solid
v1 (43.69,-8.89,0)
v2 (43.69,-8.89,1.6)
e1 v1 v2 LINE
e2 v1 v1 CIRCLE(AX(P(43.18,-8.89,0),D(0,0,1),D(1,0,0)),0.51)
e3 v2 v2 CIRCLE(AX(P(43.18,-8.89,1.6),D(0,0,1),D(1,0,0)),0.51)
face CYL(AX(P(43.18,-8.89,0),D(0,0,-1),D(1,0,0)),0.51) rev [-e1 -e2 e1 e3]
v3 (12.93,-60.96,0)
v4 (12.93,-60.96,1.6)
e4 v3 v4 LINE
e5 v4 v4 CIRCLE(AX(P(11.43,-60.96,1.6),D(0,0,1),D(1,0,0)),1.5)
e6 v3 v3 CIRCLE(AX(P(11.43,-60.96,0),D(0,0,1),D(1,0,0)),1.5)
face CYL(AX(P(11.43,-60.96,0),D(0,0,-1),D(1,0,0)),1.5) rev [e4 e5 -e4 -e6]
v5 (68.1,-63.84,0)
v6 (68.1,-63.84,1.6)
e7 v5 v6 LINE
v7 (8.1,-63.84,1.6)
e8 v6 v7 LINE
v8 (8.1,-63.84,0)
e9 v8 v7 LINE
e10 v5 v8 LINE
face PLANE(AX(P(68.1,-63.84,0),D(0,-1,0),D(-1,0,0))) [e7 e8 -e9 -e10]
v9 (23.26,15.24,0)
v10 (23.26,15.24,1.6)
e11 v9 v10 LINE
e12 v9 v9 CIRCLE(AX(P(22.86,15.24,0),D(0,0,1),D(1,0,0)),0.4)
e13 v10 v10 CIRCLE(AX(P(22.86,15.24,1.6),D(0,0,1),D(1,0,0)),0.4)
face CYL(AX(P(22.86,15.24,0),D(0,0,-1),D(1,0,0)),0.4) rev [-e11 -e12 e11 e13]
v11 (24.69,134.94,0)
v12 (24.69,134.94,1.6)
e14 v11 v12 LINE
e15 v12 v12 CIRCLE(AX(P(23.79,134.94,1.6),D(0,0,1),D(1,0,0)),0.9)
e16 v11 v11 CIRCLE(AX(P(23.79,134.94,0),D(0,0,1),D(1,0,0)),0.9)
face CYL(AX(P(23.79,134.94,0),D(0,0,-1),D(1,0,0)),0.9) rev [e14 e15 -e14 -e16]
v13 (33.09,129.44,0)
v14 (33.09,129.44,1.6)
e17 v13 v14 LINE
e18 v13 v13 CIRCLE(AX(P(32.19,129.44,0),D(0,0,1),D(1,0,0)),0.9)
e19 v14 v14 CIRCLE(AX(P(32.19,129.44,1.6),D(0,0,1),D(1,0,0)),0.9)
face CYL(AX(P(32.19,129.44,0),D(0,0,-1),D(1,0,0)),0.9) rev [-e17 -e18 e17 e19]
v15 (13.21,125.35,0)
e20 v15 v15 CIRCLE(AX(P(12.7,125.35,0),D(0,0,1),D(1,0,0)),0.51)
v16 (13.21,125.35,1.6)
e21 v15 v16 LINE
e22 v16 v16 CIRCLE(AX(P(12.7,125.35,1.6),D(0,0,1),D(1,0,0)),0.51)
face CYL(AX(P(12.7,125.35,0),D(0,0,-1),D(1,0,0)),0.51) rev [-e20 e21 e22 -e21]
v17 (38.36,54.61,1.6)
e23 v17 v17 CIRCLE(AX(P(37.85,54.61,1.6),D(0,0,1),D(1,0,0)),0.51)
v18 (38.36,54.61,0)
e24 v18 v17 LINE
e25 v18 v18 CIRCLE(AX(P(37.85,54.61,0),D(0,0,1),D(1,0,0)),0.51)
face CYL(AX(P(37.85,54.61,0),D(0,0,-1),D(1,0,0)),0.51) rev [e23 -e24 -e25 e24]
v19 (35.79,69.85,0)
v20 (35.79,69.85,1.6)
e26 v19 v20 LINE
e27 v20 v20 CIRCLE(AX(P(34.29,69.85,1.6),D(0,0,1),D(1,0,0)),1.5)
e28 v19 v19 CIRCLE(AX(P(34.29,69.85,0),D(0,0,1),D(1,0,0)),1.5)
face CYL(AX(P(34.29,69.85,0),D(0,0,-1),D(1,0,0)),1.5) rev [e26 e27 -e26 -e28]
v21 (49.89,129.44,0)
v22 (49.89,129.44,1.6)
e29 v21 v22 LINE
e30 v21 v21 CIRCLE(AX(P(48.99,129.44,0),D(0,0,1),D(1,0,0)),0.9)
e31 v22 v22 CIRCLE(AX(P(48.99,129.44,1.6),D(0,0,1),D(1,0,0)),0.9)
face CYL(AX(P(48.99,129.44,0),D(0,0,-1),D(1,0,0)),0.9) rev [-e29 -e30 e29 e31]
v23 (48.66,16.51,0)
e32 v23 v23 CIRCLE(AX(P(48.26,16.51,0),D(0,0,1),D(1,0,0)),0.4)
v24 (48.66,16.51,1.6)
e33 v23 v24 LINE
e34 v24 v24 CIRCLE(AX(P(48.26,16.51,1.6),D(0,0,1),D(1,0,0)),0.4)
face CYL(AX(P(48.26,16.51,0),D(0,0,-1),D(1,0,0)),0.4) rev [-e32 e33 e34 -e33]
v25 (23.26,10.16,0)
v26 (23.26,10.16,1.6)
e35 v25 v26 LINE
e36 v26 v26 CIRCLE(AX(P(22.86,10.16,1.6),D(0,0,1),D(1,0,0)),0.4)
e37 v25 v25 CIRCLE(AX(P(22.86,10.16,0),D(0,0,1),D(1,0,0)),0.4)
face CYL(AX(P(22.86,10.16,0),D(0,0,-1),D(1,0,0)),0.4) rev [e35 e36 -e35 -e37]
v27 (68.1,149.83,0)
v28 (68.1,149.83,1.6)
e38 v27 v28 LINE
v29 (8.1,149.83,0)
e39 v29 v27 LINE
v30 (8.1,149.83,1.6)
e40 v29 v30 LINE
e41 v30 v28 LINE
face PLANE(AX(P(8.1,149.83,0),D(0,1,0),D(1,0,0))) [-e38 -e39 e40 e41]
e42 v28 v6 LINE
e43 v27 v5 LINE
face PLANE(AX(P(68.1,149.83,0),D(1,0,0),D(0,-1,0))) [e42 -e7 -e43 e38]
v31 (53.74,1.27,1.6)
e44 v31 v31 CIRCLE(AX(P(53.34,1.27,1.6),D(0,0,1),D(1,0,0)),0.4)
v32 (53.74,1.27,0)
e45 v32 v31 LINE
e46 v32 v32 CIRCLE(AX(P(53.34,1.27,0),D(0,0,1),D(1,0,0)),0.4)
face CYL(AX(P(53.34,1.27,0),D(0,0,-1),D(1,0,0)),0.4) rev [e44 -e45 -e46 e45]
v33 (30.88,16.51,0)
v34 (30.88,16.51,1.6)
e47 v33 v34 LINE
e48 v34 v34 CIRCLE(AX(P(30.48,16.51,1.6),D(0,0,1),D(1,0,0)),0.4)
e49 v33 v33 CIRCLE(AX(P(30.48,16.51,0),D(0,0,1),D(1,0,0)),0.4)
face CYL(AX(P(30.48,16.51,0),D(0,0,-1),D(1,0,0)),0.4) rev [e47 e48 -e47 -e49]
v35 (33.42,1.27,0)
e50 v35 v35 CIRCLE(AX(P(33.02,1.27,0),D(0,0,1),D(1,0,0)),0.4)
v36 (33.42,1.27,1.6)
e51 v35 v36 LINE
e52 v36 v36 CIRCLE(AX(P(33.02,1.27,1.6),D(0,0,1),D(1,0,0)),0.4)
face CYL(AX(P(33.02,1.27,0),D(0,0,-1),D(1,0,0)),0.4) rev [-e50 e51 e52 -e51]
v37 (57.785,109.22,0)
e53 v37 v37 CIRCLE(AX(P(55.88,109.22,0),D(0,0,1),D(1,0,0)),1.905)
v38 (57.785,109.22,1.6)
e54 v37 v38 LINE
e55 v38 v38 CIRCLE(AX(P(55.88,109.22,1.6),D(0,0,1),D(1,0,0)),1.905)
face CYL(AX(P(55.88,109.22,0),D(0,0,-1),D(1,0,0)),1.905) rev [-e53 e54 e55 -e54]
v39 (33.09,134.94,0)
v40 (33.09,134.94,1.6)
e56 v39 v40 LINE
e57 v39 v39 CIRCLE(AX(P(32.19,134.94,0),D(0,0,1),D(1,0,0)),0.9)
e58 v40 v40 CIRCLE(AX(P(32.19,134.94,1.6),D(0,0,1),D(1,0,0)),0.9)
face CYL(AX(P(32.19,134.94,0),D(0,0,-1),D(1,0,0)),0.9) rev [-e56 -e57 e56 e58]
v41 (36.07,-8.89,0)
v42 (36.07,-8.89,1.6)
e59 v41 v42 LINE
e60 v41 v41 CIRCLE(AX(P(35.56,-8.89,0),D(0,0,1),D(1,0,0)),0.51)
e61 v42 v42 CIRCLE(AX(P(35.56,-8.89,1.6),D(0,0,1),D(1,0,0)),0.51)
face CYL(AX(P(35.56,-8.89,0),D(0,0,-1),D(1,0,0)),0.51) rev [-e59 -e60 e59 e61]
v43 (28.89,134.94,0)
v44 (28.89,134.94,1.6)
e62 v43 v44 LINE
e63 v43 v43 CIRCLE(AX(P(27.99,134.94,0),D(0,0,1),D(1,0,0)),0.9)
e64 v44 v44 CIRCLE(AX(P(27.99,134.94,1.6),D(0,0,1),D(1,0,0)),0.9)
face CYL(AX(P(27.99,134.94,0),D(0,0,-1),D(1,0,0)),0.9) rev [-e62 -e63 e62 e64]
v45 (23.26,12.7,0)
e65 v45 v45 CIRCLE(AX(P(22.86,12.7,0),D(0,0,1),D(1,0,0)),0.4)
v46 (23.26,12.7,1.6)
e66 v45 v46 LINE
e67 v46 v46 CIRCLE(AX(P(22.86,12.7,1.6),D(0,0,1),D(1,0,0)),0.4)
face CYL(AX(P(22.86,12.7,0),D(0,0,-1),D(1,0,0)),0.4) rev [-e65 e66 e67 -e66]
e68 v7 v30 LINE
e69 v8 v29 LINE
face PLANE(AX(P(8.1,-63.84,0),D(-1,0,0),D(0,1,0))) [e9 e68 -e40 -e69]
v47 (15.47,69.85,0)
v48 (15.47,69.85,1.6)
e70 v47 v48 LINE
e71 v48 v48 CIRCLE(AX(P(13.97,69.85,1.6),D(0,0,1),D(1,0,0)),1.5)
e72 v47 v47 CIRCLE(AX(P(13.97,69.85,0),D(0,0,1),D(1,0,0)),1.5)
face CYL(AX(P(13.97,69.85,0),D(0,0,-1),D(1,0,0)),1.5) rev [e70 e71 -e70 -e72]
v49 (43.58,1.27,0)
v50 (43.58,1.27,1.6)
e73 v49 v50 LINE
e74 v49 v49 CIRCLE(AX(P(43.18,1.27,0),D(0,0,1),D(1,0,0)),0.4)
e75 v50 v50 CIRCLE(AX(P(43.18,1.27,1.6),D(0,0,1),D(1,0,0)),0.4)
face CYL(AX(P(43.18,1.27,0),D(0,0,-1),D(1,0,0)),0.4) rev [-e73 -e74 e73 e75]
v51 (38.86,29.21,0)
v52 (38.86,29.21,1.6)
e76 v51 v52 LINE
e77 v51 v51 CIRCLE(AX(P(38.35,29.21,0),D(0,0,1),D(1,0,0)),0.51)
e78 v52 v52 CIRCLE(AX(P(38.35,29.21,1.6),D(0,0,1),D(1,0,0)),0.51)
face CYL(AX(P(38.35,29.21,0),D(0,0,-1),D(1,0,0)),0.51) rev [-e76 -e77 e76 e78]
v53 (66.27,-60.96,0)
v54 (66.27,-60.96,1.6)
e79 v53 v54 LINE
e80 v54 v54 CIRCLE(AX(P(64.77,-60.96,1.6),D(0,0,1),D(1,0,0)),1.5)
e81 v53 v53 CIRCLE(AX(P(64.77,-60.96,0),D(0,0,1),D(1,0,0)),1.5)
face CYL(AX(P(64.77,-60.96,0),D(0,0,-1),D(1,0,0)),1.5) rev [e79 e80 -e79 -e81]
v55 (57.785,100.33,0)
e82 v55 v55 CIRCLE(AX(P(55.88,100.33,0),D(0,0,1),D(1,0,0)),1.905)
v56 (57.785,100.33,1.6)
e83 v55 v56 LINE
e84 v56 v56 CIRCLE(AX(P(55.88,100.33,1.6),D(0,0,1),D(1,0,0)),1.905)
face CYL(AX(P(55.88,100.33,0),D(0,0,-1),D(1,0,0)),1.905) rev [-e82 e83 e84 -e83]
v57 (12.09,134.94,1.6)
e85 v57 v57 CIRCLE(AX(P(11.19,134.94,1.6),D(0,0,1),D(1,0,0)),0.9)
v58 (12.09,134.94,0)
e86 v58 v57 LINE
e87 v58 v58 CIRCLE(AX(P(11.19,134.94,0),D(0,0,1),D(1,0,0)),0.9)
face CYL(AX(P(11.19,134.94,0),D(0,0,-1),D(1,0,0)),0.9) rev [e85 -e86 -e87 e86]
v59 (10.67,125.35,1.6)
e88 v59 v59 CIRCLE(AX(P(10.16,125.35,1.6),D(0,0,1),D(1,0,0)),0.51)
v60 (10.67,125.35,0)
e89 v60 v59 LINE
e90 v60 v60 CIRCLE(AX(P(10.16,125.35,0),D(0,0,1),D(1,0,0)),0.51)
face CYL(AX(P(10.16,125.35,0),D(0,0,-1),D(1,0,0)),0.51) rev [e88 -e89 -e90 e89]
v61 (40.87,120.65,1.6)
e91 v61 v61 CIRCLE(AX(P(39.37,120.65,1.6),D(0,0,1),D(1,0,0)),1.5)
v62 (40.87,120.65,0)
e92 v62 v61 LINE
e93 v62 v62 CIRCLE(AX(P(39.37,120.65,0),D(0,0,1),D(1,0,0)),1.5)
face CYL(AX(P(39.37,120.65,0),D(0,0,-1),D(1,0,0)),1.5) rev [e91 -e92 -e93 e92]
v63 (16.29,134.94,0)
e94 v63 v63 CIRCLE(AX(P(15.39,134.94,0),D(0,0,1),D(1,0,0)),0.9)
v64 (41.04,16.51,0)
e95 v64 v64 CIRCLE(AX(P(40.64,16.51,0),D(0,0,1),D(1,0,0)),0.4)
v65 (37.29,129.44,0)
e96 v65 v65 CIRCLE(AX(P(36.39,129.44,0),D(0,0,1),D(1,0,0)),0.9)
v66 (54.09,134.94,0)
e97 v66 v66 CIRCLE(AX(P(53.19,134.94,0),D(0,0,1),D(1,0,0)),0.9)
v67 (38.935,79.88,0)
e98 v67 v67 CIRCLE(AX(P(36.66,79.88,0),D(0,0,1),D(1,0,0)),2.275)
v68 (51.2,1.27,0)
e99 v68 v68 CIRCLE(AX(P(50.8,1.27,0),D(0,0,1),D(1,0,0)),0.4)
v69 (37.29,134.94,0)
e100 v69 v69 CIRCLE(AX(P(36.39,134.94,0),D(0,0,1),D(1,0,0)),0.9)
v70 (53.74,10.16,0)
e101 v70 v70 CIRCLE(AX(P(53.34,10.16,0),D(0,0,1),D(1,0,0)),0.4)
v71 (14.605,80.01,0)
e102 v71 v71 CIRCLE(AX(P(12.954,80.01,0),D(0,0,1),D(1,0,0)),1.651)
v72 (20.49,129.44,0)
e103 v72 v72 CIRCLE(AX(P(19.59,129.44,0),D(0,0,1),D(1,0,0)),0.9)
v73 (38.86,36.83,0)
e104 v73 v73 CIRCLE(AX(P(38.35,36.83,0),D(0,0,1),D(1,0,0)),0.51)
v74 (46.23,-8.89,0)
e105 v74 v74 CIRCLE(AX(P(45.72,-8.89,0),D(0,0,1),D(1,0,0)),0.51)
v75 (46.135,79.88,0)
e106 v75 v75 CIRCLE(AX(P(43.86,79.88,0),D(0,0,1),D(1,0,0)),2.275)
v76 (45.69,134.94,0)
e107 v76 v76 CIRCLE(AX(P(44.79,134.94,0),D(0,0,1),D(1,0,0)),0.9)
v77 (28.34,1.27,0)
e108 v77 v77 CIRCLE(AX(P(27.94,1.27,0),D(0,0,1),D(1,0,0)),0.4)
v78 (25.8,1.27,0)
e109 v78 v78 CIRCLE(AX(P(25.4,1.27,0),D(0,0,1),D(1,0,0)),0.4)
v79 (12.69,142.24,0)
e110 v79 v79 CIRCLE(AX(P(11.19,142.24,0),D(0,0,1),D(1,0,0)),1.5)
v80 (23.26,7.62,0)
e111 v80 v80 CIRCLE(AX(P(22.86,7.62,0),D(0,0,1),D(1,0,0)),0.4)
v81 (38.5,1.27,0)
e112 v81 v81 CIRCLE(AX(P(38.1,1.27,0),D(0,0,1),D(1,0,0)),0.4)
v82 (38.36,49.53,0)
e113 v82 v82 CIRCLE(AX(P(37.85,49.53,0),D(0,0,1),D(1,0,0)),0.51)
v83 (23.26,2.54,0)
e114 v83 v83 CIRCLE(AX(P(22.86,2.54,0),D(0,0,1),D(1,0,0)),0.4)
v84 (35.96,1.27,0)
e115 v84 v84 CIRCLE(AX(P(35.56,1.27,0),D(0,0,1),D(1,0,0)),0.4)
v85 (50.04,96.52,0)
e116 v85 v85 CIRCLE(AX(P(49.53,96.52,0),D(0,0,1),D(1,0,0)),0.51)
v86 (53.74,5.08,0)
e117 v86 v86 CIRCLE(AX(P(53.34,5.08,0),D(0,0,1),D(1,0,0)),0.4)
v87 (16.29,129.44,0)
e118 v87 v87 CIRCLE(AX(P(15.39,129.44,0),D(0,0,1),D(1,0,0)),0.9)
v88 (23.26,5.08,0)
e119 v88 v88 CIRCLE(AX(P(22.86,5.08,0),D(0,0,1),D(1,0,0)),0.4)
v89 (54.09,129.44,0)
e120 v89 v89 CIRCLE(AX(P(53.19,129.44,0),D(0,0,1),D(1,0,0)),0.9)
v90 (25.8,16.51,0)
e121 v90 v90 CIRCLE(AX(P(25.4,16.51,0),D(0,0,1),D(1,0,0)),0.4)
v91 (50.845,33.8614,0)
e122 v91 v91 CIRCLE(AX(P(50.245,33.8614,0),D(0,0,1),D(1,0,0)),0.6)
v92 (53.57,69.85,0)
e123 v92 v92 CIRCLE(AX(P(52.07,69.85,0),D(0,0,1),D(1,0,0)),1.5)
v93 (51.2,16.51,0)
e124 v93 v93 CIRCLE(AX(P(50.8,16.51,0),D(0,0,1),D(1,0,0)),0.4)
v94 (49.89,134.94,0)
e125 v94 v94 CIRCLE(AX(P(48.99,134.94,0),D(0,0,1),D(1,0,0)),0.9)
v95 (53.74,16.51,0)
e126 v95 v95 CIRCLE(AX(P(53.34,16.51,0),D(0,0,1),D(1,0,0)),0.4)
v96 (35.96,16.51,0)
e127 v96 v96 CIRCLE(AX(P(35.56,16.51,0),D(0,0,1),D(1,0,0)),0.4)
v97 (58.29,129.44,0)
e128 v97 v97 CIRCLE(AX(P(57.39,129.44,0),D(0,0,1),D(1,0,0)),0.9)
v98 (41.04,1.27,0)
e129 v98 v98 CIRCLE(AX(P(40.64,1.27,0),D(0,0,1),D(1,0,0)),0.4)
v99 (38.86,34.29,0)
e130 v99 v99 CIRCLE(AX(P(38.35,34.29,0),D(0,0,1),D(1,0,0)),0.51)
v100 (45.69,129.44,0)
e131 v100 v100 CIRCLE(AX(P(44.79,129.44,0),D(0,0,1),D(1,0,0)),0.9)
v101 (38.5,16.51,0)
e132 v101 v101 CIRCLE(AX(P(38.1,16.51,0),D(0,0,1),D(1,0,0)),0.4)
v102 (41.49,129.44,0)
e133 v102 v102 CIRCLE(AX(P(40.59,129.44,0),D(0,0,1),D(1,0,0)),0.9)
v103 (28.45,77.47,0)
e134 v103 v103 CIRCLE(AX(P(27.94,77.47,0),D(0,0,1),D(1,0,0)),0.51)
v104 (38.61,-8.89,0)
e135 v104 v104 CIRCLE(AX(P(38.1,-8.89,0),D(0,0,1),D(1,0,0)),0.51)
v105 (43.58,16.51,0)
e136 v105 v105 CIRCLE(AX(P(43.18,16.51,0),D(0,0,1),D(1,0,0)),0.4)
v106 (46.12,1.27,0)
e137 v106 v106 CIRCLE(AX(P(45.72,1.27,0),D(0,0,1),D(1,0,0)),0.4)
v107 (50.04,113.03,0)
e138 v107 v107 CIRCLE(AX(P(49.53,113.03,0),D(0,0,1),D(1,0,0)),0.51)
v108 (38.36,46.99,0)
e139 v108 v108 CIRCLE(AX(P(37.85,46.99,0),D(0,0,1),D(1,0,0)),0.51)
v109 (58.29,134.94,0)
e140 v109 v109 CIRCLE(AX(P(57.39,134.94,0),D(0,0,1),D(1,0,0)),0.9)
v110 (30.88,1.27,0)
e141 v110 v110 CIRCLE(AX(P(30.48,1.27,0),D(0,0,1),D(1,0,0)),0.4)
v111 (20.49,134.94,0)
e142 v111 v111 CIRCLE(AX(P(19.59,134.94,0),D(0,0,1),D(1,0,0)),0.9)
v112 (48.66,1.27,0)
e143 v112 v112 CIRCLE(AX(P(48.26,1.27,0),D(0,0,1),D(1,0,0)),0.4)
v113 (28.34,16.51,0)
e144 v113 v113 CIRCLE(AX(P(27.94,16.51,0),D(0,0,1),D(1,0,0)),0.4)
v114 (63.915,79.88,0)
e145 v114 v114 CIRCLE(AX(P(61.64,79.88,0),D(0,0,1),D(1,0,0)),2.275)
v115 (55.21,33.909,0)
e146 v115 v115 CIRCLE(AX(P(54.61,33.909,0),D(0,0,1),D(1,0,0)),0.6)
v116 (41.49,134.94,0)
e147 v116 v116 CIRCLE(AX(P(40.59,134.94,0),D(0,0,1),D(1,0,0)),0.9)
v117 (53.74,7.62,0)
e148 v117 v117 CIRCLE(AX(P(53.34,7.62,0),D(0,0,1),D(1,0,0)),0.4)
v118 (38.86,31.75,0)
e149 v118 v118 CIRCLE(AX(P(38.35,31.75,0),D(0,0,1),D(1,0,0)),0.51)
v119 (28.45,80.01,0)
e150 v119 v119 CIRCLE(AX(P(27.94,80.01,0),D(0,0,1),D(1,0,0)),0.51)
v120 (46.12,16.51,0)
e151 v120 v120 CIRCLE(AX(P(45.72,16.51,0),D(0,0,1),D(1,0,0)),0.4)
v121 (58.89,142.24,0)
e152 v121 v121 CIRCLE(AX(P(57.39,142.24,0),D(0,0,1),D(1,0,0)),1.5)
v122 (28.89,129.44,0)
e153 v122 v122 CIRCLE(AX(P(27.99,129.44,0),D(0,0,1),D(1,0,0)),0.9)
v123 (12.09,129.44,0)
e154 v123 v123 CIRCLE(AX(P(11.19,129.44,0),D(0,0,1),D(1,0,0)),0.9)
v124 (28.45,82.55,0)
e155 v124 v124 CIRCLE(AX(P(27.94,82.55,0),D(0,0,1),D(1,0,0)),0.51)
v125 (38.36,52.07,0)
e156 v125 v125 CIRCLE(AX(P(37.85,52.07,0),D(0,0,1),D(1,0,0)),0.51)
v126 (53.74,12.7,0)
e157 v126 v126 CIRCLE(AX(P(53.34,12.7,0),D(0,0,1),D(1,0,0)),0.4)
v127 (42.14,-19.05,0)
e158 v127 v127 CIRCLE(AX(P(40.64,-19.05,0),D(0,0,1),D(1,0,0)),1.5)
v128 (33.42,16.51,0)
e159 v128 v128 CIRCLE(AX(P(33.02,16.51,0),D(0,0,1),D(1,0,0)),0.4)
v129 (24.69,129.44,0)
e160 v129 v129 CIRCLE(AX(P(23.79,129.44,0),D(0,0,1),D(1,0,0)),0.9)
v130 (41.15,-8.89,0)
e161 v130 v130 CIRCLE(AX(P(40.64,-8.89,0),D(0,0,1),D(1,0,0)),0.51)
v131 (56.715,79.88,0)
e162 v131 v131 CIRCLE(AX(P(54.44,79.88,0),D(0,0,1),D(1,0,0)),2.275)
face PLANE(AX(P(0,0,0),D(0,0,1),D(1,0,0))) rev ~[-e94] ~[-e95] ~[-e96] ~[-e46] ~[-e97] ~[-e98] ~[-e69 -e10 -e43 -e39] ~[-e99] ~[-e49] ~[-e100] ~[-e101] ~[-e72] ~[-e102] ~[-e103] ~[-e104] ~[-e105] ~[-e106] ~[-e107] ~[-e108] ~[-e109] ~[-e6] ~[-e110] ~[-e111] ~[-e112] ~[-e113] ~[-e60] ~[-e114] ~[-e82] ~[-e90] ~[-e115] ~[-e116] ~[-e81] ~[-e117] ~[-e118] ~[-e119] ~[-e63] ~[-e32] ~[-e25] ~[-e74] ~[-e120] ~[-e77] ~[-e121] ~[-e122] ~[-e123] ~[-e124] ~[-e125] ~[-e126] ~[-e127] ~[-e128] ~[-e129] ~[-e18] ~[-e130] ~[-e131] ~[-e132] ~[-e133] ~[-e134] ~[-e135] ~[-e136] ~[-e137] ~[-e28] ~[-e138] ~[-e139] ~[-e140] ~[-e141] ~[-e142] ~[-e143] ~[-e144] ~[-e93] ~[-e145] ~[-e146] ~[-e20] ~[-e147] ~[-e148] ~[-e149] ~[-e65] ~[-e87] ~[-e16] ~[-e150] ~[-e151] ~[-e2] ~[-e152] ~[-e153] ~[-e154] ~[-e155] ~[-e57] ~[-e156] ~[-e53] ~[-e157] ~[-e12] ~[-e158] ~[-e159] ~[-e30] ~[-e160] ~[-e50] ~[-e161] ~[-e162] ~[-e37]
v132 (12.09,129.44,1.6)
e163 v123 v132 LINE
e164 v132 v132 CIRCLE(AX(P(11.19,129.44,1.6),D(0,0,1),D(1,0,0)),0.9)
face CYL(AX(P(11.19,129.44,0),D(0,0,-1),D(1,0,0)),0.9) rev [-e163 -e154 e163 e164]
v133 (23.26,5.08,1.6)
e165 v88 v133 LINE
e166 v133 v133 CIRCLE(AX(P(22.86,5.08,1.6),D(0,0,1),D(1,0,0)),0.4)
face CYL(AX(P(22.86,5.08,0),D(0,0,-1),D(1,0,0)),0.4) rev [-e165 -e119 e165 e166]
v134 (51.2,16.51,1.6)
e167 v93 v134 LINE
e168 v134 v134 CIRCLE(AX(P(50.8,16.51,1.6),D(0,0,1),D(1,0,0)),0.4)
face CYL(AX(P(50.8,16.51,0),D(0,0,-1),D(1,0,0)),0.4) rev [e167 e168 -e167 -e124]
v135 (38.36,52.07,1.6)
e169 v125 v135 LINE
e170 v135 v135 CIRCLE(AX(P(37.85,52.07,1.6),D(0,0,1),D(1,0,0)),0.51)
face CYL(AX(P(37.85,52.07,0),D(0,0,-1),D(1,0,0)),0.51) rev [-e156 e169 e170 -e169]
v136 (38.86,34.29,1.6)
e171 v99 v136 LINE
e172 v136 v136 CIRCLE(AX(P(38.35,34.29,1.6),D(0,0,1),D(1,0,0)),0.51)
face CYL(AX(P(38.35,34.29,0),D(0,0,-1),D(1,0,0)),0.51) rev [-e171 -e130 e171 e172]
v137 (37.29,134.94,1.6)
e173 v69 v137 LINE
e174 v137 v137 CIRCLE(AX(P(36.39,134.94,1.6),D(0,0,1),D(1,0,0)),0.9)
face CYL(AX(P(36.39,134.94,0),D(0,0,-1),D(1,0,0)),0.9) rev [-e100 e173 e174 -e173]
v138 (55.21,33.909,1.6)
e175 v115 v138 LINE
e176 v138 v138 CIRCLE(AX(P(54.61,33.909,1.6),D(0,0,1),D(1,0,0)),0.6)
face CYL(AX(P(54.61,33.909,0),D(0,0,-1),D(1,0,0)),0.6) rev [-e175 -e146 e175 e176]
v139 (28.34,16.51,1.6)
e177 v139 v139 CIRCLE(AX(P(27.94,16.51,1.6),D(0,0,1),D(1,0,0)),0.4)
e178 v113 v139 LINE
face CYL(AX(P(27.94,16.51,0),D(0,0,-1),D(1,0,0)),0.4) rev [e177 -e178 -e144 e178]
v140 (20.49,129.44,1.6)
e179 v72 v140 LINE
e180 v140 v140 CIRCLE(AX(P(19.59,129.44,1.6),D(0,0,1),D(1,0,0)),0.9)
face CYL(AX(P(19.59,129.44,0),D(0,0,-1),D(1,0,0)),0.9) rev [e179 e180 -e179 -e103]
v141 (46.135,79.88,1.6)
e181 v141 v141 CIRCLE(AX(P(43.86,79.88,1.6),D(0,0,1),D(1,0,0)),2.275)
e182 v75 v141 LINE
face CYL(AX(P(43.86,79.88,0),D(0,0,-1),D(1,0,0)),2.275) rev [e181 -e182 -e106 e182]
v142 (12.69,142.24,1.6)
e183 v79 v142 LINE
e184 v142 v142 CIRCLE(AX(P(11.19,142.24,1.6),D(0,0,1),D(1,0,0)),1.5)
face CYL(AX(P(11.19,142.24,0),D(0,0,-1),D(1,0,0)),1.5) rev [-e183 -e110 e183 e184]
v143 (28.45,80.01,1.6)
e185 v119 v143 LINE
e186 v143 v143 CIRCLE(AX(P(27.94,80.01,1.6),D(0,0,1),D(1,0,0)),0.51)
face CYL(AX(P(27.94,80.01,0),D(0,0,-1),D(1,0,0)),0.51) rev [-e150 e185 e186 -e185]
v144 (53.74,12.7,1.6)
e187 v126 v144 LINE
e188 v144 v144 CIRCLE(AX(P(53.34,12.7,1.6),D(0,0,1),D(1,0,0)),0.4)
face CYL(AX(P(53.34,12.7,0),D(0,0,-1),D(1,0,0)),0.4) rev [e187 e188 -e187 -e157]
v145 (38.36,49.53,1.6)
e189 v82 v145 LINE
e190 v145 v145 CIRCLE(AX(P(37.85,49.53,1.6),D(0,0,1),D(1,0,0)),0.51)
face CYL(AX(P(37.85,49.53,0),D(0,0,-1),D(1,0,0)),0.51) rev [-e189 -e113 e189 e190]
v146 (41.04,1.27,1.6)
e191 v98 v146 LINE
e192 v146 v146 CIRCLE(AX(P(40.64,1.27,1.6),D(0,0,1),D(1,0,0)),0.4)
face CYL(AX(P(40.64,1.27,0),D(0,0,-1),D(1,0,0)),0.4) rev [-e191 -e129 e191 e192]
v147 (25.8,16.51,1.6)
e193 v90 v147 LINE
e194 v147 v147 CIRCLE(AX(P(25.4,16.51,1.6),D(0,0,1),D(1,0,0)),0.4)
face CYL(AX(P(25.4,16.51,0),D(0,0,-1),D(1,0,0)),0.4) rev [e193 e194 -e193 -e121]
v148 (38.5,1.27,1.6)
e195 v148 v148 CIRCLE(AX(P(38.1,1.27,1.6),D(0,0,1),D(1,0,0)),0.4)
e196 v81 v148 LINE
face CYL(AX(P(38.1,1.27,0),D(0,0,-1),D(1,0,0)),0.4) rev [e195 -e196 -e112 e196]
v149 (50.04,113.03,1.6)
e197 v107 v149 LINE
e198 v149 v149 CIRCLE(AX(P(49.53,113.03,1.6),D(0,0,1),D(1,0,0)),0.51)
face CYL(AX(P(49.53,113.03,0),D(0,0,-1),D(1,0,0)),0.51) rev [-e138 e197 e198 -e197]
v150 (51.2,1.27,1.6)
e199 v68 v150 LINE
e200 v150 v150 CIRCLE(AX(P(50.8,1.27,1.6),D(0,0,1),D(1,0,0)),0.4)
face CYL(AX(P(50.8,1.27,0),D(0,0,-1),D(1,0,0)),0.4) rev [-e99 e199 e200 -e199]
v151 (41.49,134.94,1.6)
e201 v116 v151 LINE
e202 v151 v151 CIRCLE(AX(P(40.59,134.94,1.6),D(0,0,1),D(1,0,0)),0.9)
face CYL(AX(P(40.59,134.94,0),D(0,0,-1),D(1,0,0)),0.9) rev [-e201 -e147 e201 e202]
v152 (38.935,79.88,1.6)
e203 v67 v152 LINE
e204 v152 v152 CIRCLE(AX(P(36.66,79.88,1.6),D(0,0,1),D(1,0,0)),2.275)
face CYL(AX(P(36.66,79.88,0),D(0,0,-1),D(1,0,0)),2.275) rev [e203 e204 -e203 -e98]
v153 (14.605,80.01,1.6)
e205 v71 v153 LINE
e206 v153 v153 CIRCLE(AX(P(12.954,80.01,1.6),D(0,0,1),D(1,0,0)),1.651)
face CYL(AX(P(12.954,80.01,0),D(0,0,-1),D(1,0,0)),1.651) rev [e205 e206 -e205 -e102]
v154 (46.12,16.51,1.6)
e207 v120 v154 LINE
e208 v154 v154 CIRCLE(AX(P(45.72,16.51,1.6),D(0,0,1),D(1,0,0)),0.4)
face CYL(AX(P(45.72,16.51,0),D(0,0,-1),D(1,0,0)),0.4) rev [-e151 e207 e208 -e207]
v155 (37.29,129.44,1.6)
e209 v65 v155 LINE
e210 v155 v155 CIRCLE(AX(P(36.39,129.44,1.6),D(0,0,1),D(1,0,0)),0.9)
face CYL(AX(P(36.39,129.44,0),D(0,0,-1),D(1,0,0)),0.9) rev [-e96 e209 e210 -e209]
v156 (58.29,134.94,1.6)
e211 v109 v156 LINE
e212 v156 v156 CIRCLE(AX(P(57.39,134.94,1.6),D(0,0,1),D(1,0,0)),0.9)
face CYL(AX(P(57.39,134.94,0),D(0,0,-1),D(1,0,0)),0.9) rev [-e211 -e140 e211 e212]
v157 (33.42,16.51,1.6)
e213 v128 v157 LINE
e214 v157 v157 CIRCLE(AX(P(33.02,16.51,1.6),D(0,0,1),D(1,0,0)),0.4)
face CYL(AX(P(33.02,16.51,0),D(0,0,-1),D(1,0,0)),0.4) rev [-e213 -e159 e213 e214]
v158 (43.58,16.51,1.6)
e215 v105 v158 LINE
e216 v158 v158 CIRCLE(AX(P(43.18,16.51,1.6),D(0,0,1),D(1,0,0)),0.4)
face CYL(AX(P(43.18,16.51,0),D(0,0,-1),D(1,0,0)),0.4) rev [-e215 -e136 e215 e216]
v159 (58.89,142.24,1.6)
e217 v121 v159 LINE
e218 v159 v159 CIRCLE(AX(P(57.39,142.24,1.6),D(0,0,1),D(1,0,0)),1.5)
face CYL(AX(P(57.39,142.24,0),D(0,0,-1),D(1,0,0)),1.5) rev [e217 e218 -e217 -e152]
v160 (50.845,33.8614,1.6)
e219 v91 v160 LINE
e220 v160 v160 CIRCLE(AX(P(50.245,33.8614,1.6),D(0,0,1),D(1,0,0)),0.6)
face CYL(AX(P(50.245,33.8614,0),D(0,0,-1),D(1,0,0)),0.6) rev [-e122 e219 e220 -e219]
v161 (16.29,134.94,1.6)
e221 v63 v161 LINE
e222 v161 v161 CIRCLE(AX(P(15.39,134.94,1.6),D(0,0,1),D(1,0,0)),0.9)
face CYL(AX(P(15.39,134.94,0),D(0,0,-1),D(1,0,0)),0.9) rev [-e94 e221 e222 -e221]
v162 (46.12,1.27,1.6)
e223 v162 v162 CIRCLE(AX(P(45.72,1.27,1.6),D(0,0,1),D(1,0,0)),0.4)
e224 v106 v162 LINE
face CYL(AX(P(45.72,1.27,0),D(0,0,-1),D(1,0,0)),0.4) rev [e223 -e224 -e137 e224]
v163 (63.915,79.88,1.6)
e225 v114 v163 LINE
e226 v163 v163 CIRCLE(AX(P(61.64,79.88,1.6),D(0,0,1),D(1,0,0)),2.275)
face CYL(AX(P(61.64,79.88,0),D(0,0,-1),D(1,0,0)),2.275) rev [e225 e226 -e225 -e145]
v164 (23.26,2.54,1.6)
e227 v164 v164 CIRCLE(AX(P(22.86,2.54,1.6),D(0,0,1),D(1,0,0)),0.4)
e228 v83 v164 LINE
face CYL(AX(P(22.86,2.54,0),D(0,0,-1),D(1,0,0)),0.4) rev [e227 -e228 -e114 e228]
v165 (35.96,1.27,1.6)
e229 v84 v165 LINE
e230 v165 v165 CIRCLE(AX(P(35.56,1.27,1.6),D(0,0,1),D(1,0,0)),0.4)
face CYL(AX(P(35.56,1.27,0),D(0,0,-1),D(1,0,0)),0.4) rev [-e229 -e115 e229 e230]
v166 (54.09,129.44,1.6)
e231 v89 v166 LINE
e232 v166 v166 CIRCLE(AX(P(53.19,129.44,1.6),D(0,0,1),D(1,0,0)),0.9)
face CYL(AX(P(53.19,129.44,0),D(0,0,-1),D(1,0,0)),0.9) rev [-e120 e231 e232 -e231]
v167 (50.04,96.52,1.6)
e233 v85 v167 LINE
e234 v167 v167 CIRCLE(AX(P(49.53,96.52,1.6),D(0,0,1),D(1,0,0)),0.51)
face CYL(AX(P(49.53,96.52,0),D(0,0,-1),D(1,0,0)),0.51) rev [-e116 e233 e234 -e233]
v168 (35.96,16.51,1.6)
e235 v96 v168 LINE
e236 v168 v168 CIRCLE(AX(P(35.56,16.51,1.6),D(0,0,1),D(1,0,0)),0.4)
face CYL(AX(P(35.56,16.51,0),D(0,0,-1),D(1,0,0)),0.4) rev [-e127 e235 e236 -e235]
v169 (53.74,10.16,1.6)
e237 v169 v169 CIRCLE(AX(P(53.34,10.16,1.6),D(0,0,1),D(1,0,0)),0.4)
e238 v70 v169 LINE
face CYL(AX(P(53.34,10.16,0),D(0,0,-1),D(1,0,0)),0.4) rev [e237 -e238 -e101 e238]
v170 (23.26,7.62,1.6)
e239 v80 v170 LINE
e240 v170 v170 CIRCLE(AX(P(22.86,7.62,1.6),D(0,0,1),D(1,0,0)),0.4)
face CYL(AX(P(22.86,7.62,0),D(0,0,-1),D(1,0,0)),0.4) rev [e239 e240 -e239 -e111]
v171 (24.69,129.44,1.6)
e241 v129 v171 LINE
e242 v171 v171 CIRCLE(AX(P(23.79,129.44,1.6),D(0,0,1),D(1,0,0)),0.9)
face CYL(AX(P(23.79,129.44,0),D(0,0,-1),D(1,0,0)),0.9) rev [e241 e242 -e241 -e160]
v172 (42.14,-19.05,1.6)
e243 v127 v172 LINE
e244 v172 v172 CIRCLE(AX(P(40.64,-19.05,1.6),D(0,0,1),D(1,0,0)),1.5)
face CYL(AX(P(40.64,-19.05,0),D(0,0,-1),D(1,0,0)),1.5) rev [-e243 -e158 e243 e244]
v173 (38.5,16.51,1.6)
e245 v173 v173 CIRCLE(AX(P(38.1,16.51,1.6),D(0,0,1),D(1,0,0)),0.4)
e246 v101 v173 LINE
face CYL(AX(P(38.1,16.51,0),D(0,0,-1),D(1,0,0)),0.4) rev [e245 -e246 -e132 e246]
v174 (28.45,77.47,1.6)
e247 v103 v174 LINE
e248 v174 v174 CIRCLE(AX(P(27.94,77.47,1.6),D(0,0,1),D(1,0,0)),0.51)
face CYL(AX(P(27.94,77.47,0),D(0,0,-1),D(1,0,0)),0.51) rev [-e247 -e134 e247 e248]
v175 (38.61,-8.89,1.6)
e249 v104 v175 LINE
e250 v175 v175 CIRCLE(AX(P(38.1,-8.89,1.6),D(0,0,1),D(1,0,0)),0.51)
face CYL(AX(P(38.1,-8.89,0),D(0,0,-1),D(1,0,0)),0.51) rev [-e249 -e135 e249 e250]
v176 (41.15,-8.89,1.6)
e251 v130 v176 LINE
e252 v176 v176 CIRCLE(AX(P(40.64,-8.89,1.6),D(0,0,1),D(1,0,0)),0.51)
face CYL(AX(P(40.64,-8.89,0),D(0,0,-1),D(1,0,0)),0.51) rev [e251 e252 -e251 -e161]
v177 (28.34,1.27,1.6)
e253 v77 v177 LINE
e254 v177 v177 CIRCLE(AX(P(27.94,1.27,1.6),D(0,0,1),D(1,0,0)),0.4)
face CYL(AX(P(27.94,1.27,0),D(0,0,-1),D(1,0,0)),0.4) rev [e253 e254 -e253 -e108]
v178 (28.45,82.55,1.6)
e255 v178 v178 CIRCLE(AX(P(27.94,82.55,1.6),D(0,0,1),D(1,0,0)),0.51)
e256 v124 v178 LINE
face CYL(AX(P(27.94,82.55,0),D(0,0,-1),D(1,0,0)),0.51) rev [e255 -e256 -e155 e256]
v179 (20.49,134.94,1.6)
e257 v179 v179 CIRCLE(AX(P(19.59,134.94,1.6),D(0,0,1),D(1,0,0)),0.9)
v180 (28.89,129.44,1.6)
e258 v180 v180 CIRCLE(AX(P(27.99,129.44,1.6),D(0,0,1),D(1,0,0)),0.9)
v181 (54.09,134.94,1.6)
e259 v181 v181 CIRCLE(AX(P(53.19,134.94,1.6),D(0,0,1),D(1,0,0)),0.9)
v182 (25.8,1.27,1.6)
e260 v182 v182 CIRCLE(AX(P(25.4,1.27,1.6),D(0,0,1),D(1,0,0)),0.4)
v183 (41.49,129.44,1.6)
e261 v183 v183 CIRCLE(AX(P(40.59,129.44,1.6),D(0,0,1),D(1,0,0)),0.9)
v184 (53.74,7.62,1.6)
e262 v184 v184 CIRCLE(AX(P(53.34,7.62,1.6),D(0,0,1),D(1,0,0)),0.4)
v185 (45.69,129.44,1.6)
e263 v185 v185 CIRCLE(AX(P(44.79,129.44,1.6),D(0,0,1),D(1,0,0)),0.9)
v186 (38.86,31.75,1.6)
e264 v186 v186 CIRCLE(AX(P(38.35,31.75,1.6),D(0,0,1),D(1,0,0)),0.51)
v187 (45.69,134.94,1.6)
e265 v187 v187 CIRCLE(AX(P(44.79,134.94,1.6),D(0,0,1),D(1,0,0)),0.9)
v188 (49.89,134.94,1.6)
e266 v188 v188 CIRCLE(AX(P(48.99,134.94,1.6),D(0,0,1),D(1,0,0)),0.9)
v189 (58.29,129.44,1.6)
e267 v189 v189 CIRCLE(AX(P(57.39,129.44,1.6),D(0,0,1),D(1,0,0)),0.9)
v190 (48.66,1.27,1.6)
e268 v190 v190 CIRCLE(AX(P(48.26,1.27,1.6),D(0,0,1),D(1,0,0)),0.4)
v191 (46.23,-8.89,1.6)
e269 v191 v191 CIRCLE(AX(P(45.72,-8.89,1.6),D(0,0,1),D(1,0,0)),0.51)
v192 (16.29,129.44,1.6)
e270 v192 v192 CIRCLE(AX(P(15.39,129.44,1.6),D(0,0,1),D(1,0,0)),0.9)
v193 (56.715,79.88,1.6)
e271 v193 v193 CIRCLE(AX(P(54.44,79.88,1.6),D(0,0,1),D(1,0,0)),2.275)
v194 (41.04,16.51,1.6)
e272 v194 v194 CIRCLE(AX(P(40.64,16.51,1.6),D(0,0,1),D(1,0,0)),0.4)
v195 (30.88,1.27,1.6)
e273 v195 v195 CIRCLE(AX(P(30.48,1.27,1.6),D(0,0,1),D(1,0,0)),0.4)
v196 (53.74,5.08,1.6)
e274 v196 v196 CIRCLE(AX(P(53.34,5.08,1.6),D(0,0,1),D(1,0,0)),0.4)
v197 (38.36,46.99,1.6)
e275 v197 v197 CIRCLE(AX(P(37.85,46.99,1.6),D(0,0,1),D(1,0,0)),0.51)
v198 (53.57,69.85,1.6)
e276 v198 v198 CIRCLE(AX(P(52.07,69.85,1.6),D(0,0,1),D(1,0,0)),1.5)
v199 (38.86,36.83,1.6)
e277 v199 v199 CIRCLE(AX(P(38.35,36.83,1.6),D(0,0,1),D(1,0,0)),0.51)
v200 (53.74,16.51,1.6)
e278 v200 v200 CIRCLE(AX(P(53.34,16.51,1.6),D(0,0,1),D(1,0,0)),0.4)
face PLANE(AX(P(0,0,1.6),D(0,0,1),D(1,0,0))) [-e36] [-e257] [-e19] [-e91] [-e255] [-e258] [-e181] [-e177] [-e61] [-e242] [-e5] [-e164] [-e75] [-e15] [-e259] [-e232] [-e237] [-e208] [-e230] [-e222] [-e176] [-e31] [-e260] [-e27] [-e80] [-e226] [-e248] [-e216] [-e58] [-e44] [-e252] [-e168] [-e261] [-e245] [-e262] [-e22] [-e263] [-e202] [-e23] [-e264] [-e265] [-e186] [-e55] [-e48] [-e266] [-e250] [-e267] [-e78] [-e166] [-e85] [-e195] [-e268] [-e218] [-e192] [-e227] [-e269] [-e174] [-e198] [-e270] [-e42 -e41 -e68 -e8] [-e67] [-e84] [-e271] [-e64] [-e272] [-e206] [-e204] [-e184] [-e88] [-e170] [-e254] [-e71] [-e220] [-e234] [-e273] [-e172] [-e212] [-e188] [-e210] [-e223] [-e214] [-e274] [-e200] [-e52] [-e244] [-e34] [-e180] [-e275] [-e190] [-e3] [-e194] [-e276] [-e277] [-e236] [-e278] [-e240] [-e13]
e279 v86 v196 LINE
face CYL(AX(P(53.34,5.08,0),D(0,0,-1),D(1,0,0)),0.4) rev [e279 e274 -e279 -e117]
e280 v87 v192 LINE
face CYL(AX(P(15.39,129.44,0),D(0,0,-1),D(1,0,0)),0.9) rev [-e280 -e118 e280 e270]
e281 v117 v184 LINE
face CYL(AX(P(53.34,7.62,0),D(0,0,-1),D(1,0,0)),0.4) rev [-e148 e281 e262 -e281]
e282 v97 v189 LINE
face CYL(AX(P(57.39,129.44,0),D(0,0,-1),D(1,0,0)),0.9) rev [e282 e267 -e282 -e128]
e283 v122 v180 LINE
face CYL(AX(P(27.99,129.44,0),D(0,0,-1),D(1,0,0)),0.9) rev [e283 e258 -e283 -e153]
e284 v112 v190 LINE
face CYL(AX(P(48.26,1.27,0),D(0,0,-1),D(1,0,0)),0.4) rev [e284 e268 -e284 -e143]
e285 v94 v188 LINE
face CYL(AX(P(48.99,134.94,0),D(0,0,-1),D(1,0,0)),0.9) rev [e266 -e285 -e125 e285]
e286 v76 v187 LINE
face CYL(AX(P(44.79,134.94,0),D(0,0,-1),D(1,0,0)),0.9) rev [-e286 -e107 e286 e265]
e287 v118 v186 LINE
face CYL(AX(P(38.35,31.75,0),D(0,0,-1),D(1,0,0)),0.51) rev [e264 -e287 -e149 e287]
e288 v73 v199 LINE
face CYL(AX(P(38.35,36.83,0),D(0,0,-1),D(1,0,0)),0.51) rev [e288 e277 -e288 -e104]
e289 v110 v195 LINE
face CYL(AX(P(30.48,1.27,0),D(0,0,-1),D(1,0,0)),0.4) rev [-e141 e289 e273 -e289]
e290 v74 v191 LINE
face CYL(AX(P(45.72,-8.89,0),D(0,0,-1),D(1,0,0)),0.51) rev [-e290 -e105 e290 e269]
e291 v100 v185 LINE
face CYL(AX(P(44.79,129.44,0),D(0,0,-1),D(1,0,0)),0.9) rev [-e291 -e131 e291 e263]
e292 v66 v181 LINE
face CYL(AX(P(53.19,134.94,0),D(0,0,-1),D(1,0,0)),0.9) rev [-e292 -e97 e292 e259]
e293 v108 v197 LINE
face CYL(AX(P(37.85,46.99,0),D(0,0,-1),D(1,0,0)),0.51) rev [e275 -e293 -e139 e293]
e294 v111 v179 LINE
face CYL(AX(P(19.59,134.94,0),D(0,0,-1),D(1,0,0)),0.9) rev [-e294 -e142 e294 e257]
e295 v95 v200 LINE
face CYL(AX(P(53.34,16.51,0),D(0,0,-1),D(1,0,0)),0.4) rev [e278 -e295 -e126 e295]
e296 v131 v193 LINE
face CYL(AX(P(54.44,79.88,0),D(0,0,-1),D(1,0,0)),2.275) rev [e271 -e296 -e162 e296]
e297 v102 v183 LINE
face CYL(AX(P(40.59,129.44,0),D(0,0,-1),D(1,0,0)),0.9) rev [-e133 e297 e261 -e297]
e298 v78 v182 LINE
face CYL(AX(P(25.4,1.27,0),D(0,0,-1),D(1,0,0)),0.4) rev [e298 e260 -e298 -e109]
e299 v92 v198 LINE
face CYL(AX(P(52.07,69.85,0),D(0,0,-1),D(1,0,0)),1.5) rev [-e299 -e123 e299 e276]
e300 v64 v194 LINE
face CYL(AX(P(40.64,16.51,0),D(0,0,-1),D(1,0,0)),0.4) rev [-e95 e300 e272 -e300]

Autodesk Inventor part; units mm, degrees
ref_plane "YZ Plane" through (0, 0, 0) normal (1, 0, 0) x (0, 1, 0)
ref_plane "XZ Plane" through (0, 0, 0) normal (0, 1, 0) x (-1, 0, 0)
ref_plane "XY Plane" through (0, 0, 0) normal (0, 0, 1) x (1, 0, 0)
sketch "Эскиз1" plane through (0, 0, 0) normal (0, 0, 1) x (1, 0, 0)
  line L0 (68.1, 149.83) -> (68.1, -63.84)
  line L1 (68.1, -63.84) -> (8.1, -63.84)
  line L2 (8.1, -63.84) -> (8.1, 149.83)
  line L3 (8.1, 149.83) -> (68.1, 149.83)
  circle A0 centre (38.35, 29.21) radius 0.51
  circle A1 centre (38.35, 31.75) radius 0.51
  circle A2 centre (38.35, 34.29) radius 0.51
  circle A3 centre (38.35, 36.83) radius 0.51
  circle A4 centre (37.85, 54.61) radius 0.51
  circle A5 centre (37.85, 52.07) radius 0.51
  circle A6 centre (37.85, 49.53) radius 0.51
  circle A7 centre (37.85, 46.99) radius 0.51
  circle A8 centre (43.86, 79.88) radius 2.275
  circle A9 centre (36.66, 79.88) radius 2.275
  circle A10 centre (61.64, 79.88) radius 2.275
  circle A11 centre (54.44, 79.88) radius 2.275
  circle A12 centre (55.88, 100.33) radius 1.905
  circle A13 centre (55.88, 109.22) radius 1.905
  circle A14 centre (11.19, 134.94) radius 0.9
  circle A15 centre (15.39, 134.94) radius 0.9
  circle A16 centre (19.59, 134.94) radius 0.9
  circle A17 centre (23.79, 134.94) radius 0.9
  circle A18 centre (27.99, 134.94) radius 0.9
  circle A19 centre (32.19, 134.94) radius 0.9
  circle A20 centre (36.39, 134.94) radius 0.9
  circle A21 centre (40.59, 134.94) radius 0.9
  circle A22 centre (44.79, 134.94) radius 0.9
  circle A23 centre (48.99, 134.94) radius 0.9
  circle A24 centre (53.19, 134.94) radius 0.9
  circle A25 centre (57.39, 134.94) radius 0.9
  circle A26 centre (11.19, 129.44) radius 0.9
  circle A27 centre (15.39, 129.44) radius 0.9
  circle A28 centre (19.59, 129.44) radius 0.9
  circle A29 centre (23.79, 129.44) radius 0.9
  circle A30 centre (27.99, 129.44) radius 0.9
  circle A31 centre (32.19, 129.44) radius 0.9
  circle A32 centre (36.39, 129.44) radius 0.9
  circle A33 centre (40.59, 129.44) radius 0.9
  circle A34 centre (44.79, 129.44) radius 0.9
  circle A35 centre (48.99, 129.44) radius 0.9
  circle A36 centre (53.19, 129.44) radius 0.9
  circle A37 centre (57.39, 129.44) radius 0.9
  circle A38 centre (49.53, 113.03) radius 0.51
  circle A39 centre (12.7, 125.35) radius 0.51
  circle A40 centre (10.16, 125.35) radius 0.51
  circle A41 centre (49.53, 96.52) radius 0.51
  circle A42 centre (45.72, -8.89) radius 0.51
  circle A43 centre (43.18, -8.89) radius 0.51
  circle A44 centre (40.64, -8.89) radius 0.51
  circle A45 centre (38.1, -8.89) radius 0.51
  circle A46 centre (35.56, -8.89) radius 0.51
  circle A47 centre (43.18, 16.51) radius 0.4
  circle A48 centre (40.64, 16.51) radius 0.4
  circle A49 centre (38.1, 16.51) radius 0.4
  circle A50 centre (35.56, 16.51) radius 0.4
  circle A51 centre (53.34, 5.08) radius 0.4
  circle A52 centre (53.34, 7.62) radius 0.4
  circle A53 centre (53.34, 10.16) radius 0.4
  circle A54 centre (53.34, 12.7) radius 0.4
  circle A55 centre (35.56, 1.27) radius 0.4
  circle A56 centre (38.1, 1.27) radius 0.4
  circle A57 centre (40.64, 1.27) radius 0.4
  circle A58 centre (43.18, 1.27) radius 0.4
  circle A59 centre (45.72, 1.27) radius 0.4
  circle A60 centre (48.26, 1.27) radius 0.4
  circle A61 centre (50.8, 1.27) radius 0.4
  circle A62 centre (53.34, 1.27) radius 0.4
  circle A63 centre (53.34, 16.51) radius 0.4
  circle A64 centre (50.8, 16.51) radius 0.4
  circle A65 centre (48.26, 16.51) radius 0.4
  circle A66 centre (45.72, 16.51) radius 0.4
  circle A67 centre (22.86, 15.24) radius 0.4
  circle A68 centre (27.94, 16.51) radius 0.4
  circle A69 centre (33.02, 1.27) radius 0.4
  circle A70 centre (22.86, 2.54) radius 0.4
  circle A71 centre (22.86, 5.08) radius 0.4
  circle A72 centre (25.4, 16.51) radius 0.4
  circle A73 centre (30.48, 16.51) radius 0.4
  circle A74 centre (30.48, 1.27) radius 0.4
  circle A75 centre (27.94, 1.27) radius 0.4
  circle A76 centre (22.86, 10.16) radius 0.4
  circle A77 centre (25.4, 1.27) radius 0.4
  circle A78 centre (22.86, 12.7) radius 0.4
  circle A79 centre (33.02, 16.51) radius 0.4
  circle A80 centre (22.86, 7.62) radius 0.4
  circle A81 centre (27.94, 80.01) radius 0.51
  circle A82 centre (27.94, 82.55) radius 0.51
  circle A83 centre (27.94, 77.47) radius 0.51
  circle A84 centre (52.07, 69.85) radius 1.5
  circle A85 centre (34.29, 69.85) radius 1.5
  circle A86 centre (13.97, 69.85) radius 1.5
  circle A87 centre (11.43, -60.96) radius 1.5
  circle A88 centre (64.77, -60.96) radius 1.5
  circle A89 centre (40.64, -19.05) radius 1.5
  circle A90 centre (39.37, 120.65) radius 1.5
  circle A91 centre (57.39, 142.24) radius 1.5
  circle A92 centre (11.19, 142.24) radius 1.5
  circle A93 centre (12.954, 80.01) radius 1.651
  circle A94 centre (50.245, 33.8614) radius 0.6
  circle A95 centre (54.61, 33.909) radius 0.6
extrude "Omnibot_battery_module.brdКонтур" add sketch "Эскиз1" along normal blind 1.6
properties part number "Omnibot_battery_module.brdКонтур"
